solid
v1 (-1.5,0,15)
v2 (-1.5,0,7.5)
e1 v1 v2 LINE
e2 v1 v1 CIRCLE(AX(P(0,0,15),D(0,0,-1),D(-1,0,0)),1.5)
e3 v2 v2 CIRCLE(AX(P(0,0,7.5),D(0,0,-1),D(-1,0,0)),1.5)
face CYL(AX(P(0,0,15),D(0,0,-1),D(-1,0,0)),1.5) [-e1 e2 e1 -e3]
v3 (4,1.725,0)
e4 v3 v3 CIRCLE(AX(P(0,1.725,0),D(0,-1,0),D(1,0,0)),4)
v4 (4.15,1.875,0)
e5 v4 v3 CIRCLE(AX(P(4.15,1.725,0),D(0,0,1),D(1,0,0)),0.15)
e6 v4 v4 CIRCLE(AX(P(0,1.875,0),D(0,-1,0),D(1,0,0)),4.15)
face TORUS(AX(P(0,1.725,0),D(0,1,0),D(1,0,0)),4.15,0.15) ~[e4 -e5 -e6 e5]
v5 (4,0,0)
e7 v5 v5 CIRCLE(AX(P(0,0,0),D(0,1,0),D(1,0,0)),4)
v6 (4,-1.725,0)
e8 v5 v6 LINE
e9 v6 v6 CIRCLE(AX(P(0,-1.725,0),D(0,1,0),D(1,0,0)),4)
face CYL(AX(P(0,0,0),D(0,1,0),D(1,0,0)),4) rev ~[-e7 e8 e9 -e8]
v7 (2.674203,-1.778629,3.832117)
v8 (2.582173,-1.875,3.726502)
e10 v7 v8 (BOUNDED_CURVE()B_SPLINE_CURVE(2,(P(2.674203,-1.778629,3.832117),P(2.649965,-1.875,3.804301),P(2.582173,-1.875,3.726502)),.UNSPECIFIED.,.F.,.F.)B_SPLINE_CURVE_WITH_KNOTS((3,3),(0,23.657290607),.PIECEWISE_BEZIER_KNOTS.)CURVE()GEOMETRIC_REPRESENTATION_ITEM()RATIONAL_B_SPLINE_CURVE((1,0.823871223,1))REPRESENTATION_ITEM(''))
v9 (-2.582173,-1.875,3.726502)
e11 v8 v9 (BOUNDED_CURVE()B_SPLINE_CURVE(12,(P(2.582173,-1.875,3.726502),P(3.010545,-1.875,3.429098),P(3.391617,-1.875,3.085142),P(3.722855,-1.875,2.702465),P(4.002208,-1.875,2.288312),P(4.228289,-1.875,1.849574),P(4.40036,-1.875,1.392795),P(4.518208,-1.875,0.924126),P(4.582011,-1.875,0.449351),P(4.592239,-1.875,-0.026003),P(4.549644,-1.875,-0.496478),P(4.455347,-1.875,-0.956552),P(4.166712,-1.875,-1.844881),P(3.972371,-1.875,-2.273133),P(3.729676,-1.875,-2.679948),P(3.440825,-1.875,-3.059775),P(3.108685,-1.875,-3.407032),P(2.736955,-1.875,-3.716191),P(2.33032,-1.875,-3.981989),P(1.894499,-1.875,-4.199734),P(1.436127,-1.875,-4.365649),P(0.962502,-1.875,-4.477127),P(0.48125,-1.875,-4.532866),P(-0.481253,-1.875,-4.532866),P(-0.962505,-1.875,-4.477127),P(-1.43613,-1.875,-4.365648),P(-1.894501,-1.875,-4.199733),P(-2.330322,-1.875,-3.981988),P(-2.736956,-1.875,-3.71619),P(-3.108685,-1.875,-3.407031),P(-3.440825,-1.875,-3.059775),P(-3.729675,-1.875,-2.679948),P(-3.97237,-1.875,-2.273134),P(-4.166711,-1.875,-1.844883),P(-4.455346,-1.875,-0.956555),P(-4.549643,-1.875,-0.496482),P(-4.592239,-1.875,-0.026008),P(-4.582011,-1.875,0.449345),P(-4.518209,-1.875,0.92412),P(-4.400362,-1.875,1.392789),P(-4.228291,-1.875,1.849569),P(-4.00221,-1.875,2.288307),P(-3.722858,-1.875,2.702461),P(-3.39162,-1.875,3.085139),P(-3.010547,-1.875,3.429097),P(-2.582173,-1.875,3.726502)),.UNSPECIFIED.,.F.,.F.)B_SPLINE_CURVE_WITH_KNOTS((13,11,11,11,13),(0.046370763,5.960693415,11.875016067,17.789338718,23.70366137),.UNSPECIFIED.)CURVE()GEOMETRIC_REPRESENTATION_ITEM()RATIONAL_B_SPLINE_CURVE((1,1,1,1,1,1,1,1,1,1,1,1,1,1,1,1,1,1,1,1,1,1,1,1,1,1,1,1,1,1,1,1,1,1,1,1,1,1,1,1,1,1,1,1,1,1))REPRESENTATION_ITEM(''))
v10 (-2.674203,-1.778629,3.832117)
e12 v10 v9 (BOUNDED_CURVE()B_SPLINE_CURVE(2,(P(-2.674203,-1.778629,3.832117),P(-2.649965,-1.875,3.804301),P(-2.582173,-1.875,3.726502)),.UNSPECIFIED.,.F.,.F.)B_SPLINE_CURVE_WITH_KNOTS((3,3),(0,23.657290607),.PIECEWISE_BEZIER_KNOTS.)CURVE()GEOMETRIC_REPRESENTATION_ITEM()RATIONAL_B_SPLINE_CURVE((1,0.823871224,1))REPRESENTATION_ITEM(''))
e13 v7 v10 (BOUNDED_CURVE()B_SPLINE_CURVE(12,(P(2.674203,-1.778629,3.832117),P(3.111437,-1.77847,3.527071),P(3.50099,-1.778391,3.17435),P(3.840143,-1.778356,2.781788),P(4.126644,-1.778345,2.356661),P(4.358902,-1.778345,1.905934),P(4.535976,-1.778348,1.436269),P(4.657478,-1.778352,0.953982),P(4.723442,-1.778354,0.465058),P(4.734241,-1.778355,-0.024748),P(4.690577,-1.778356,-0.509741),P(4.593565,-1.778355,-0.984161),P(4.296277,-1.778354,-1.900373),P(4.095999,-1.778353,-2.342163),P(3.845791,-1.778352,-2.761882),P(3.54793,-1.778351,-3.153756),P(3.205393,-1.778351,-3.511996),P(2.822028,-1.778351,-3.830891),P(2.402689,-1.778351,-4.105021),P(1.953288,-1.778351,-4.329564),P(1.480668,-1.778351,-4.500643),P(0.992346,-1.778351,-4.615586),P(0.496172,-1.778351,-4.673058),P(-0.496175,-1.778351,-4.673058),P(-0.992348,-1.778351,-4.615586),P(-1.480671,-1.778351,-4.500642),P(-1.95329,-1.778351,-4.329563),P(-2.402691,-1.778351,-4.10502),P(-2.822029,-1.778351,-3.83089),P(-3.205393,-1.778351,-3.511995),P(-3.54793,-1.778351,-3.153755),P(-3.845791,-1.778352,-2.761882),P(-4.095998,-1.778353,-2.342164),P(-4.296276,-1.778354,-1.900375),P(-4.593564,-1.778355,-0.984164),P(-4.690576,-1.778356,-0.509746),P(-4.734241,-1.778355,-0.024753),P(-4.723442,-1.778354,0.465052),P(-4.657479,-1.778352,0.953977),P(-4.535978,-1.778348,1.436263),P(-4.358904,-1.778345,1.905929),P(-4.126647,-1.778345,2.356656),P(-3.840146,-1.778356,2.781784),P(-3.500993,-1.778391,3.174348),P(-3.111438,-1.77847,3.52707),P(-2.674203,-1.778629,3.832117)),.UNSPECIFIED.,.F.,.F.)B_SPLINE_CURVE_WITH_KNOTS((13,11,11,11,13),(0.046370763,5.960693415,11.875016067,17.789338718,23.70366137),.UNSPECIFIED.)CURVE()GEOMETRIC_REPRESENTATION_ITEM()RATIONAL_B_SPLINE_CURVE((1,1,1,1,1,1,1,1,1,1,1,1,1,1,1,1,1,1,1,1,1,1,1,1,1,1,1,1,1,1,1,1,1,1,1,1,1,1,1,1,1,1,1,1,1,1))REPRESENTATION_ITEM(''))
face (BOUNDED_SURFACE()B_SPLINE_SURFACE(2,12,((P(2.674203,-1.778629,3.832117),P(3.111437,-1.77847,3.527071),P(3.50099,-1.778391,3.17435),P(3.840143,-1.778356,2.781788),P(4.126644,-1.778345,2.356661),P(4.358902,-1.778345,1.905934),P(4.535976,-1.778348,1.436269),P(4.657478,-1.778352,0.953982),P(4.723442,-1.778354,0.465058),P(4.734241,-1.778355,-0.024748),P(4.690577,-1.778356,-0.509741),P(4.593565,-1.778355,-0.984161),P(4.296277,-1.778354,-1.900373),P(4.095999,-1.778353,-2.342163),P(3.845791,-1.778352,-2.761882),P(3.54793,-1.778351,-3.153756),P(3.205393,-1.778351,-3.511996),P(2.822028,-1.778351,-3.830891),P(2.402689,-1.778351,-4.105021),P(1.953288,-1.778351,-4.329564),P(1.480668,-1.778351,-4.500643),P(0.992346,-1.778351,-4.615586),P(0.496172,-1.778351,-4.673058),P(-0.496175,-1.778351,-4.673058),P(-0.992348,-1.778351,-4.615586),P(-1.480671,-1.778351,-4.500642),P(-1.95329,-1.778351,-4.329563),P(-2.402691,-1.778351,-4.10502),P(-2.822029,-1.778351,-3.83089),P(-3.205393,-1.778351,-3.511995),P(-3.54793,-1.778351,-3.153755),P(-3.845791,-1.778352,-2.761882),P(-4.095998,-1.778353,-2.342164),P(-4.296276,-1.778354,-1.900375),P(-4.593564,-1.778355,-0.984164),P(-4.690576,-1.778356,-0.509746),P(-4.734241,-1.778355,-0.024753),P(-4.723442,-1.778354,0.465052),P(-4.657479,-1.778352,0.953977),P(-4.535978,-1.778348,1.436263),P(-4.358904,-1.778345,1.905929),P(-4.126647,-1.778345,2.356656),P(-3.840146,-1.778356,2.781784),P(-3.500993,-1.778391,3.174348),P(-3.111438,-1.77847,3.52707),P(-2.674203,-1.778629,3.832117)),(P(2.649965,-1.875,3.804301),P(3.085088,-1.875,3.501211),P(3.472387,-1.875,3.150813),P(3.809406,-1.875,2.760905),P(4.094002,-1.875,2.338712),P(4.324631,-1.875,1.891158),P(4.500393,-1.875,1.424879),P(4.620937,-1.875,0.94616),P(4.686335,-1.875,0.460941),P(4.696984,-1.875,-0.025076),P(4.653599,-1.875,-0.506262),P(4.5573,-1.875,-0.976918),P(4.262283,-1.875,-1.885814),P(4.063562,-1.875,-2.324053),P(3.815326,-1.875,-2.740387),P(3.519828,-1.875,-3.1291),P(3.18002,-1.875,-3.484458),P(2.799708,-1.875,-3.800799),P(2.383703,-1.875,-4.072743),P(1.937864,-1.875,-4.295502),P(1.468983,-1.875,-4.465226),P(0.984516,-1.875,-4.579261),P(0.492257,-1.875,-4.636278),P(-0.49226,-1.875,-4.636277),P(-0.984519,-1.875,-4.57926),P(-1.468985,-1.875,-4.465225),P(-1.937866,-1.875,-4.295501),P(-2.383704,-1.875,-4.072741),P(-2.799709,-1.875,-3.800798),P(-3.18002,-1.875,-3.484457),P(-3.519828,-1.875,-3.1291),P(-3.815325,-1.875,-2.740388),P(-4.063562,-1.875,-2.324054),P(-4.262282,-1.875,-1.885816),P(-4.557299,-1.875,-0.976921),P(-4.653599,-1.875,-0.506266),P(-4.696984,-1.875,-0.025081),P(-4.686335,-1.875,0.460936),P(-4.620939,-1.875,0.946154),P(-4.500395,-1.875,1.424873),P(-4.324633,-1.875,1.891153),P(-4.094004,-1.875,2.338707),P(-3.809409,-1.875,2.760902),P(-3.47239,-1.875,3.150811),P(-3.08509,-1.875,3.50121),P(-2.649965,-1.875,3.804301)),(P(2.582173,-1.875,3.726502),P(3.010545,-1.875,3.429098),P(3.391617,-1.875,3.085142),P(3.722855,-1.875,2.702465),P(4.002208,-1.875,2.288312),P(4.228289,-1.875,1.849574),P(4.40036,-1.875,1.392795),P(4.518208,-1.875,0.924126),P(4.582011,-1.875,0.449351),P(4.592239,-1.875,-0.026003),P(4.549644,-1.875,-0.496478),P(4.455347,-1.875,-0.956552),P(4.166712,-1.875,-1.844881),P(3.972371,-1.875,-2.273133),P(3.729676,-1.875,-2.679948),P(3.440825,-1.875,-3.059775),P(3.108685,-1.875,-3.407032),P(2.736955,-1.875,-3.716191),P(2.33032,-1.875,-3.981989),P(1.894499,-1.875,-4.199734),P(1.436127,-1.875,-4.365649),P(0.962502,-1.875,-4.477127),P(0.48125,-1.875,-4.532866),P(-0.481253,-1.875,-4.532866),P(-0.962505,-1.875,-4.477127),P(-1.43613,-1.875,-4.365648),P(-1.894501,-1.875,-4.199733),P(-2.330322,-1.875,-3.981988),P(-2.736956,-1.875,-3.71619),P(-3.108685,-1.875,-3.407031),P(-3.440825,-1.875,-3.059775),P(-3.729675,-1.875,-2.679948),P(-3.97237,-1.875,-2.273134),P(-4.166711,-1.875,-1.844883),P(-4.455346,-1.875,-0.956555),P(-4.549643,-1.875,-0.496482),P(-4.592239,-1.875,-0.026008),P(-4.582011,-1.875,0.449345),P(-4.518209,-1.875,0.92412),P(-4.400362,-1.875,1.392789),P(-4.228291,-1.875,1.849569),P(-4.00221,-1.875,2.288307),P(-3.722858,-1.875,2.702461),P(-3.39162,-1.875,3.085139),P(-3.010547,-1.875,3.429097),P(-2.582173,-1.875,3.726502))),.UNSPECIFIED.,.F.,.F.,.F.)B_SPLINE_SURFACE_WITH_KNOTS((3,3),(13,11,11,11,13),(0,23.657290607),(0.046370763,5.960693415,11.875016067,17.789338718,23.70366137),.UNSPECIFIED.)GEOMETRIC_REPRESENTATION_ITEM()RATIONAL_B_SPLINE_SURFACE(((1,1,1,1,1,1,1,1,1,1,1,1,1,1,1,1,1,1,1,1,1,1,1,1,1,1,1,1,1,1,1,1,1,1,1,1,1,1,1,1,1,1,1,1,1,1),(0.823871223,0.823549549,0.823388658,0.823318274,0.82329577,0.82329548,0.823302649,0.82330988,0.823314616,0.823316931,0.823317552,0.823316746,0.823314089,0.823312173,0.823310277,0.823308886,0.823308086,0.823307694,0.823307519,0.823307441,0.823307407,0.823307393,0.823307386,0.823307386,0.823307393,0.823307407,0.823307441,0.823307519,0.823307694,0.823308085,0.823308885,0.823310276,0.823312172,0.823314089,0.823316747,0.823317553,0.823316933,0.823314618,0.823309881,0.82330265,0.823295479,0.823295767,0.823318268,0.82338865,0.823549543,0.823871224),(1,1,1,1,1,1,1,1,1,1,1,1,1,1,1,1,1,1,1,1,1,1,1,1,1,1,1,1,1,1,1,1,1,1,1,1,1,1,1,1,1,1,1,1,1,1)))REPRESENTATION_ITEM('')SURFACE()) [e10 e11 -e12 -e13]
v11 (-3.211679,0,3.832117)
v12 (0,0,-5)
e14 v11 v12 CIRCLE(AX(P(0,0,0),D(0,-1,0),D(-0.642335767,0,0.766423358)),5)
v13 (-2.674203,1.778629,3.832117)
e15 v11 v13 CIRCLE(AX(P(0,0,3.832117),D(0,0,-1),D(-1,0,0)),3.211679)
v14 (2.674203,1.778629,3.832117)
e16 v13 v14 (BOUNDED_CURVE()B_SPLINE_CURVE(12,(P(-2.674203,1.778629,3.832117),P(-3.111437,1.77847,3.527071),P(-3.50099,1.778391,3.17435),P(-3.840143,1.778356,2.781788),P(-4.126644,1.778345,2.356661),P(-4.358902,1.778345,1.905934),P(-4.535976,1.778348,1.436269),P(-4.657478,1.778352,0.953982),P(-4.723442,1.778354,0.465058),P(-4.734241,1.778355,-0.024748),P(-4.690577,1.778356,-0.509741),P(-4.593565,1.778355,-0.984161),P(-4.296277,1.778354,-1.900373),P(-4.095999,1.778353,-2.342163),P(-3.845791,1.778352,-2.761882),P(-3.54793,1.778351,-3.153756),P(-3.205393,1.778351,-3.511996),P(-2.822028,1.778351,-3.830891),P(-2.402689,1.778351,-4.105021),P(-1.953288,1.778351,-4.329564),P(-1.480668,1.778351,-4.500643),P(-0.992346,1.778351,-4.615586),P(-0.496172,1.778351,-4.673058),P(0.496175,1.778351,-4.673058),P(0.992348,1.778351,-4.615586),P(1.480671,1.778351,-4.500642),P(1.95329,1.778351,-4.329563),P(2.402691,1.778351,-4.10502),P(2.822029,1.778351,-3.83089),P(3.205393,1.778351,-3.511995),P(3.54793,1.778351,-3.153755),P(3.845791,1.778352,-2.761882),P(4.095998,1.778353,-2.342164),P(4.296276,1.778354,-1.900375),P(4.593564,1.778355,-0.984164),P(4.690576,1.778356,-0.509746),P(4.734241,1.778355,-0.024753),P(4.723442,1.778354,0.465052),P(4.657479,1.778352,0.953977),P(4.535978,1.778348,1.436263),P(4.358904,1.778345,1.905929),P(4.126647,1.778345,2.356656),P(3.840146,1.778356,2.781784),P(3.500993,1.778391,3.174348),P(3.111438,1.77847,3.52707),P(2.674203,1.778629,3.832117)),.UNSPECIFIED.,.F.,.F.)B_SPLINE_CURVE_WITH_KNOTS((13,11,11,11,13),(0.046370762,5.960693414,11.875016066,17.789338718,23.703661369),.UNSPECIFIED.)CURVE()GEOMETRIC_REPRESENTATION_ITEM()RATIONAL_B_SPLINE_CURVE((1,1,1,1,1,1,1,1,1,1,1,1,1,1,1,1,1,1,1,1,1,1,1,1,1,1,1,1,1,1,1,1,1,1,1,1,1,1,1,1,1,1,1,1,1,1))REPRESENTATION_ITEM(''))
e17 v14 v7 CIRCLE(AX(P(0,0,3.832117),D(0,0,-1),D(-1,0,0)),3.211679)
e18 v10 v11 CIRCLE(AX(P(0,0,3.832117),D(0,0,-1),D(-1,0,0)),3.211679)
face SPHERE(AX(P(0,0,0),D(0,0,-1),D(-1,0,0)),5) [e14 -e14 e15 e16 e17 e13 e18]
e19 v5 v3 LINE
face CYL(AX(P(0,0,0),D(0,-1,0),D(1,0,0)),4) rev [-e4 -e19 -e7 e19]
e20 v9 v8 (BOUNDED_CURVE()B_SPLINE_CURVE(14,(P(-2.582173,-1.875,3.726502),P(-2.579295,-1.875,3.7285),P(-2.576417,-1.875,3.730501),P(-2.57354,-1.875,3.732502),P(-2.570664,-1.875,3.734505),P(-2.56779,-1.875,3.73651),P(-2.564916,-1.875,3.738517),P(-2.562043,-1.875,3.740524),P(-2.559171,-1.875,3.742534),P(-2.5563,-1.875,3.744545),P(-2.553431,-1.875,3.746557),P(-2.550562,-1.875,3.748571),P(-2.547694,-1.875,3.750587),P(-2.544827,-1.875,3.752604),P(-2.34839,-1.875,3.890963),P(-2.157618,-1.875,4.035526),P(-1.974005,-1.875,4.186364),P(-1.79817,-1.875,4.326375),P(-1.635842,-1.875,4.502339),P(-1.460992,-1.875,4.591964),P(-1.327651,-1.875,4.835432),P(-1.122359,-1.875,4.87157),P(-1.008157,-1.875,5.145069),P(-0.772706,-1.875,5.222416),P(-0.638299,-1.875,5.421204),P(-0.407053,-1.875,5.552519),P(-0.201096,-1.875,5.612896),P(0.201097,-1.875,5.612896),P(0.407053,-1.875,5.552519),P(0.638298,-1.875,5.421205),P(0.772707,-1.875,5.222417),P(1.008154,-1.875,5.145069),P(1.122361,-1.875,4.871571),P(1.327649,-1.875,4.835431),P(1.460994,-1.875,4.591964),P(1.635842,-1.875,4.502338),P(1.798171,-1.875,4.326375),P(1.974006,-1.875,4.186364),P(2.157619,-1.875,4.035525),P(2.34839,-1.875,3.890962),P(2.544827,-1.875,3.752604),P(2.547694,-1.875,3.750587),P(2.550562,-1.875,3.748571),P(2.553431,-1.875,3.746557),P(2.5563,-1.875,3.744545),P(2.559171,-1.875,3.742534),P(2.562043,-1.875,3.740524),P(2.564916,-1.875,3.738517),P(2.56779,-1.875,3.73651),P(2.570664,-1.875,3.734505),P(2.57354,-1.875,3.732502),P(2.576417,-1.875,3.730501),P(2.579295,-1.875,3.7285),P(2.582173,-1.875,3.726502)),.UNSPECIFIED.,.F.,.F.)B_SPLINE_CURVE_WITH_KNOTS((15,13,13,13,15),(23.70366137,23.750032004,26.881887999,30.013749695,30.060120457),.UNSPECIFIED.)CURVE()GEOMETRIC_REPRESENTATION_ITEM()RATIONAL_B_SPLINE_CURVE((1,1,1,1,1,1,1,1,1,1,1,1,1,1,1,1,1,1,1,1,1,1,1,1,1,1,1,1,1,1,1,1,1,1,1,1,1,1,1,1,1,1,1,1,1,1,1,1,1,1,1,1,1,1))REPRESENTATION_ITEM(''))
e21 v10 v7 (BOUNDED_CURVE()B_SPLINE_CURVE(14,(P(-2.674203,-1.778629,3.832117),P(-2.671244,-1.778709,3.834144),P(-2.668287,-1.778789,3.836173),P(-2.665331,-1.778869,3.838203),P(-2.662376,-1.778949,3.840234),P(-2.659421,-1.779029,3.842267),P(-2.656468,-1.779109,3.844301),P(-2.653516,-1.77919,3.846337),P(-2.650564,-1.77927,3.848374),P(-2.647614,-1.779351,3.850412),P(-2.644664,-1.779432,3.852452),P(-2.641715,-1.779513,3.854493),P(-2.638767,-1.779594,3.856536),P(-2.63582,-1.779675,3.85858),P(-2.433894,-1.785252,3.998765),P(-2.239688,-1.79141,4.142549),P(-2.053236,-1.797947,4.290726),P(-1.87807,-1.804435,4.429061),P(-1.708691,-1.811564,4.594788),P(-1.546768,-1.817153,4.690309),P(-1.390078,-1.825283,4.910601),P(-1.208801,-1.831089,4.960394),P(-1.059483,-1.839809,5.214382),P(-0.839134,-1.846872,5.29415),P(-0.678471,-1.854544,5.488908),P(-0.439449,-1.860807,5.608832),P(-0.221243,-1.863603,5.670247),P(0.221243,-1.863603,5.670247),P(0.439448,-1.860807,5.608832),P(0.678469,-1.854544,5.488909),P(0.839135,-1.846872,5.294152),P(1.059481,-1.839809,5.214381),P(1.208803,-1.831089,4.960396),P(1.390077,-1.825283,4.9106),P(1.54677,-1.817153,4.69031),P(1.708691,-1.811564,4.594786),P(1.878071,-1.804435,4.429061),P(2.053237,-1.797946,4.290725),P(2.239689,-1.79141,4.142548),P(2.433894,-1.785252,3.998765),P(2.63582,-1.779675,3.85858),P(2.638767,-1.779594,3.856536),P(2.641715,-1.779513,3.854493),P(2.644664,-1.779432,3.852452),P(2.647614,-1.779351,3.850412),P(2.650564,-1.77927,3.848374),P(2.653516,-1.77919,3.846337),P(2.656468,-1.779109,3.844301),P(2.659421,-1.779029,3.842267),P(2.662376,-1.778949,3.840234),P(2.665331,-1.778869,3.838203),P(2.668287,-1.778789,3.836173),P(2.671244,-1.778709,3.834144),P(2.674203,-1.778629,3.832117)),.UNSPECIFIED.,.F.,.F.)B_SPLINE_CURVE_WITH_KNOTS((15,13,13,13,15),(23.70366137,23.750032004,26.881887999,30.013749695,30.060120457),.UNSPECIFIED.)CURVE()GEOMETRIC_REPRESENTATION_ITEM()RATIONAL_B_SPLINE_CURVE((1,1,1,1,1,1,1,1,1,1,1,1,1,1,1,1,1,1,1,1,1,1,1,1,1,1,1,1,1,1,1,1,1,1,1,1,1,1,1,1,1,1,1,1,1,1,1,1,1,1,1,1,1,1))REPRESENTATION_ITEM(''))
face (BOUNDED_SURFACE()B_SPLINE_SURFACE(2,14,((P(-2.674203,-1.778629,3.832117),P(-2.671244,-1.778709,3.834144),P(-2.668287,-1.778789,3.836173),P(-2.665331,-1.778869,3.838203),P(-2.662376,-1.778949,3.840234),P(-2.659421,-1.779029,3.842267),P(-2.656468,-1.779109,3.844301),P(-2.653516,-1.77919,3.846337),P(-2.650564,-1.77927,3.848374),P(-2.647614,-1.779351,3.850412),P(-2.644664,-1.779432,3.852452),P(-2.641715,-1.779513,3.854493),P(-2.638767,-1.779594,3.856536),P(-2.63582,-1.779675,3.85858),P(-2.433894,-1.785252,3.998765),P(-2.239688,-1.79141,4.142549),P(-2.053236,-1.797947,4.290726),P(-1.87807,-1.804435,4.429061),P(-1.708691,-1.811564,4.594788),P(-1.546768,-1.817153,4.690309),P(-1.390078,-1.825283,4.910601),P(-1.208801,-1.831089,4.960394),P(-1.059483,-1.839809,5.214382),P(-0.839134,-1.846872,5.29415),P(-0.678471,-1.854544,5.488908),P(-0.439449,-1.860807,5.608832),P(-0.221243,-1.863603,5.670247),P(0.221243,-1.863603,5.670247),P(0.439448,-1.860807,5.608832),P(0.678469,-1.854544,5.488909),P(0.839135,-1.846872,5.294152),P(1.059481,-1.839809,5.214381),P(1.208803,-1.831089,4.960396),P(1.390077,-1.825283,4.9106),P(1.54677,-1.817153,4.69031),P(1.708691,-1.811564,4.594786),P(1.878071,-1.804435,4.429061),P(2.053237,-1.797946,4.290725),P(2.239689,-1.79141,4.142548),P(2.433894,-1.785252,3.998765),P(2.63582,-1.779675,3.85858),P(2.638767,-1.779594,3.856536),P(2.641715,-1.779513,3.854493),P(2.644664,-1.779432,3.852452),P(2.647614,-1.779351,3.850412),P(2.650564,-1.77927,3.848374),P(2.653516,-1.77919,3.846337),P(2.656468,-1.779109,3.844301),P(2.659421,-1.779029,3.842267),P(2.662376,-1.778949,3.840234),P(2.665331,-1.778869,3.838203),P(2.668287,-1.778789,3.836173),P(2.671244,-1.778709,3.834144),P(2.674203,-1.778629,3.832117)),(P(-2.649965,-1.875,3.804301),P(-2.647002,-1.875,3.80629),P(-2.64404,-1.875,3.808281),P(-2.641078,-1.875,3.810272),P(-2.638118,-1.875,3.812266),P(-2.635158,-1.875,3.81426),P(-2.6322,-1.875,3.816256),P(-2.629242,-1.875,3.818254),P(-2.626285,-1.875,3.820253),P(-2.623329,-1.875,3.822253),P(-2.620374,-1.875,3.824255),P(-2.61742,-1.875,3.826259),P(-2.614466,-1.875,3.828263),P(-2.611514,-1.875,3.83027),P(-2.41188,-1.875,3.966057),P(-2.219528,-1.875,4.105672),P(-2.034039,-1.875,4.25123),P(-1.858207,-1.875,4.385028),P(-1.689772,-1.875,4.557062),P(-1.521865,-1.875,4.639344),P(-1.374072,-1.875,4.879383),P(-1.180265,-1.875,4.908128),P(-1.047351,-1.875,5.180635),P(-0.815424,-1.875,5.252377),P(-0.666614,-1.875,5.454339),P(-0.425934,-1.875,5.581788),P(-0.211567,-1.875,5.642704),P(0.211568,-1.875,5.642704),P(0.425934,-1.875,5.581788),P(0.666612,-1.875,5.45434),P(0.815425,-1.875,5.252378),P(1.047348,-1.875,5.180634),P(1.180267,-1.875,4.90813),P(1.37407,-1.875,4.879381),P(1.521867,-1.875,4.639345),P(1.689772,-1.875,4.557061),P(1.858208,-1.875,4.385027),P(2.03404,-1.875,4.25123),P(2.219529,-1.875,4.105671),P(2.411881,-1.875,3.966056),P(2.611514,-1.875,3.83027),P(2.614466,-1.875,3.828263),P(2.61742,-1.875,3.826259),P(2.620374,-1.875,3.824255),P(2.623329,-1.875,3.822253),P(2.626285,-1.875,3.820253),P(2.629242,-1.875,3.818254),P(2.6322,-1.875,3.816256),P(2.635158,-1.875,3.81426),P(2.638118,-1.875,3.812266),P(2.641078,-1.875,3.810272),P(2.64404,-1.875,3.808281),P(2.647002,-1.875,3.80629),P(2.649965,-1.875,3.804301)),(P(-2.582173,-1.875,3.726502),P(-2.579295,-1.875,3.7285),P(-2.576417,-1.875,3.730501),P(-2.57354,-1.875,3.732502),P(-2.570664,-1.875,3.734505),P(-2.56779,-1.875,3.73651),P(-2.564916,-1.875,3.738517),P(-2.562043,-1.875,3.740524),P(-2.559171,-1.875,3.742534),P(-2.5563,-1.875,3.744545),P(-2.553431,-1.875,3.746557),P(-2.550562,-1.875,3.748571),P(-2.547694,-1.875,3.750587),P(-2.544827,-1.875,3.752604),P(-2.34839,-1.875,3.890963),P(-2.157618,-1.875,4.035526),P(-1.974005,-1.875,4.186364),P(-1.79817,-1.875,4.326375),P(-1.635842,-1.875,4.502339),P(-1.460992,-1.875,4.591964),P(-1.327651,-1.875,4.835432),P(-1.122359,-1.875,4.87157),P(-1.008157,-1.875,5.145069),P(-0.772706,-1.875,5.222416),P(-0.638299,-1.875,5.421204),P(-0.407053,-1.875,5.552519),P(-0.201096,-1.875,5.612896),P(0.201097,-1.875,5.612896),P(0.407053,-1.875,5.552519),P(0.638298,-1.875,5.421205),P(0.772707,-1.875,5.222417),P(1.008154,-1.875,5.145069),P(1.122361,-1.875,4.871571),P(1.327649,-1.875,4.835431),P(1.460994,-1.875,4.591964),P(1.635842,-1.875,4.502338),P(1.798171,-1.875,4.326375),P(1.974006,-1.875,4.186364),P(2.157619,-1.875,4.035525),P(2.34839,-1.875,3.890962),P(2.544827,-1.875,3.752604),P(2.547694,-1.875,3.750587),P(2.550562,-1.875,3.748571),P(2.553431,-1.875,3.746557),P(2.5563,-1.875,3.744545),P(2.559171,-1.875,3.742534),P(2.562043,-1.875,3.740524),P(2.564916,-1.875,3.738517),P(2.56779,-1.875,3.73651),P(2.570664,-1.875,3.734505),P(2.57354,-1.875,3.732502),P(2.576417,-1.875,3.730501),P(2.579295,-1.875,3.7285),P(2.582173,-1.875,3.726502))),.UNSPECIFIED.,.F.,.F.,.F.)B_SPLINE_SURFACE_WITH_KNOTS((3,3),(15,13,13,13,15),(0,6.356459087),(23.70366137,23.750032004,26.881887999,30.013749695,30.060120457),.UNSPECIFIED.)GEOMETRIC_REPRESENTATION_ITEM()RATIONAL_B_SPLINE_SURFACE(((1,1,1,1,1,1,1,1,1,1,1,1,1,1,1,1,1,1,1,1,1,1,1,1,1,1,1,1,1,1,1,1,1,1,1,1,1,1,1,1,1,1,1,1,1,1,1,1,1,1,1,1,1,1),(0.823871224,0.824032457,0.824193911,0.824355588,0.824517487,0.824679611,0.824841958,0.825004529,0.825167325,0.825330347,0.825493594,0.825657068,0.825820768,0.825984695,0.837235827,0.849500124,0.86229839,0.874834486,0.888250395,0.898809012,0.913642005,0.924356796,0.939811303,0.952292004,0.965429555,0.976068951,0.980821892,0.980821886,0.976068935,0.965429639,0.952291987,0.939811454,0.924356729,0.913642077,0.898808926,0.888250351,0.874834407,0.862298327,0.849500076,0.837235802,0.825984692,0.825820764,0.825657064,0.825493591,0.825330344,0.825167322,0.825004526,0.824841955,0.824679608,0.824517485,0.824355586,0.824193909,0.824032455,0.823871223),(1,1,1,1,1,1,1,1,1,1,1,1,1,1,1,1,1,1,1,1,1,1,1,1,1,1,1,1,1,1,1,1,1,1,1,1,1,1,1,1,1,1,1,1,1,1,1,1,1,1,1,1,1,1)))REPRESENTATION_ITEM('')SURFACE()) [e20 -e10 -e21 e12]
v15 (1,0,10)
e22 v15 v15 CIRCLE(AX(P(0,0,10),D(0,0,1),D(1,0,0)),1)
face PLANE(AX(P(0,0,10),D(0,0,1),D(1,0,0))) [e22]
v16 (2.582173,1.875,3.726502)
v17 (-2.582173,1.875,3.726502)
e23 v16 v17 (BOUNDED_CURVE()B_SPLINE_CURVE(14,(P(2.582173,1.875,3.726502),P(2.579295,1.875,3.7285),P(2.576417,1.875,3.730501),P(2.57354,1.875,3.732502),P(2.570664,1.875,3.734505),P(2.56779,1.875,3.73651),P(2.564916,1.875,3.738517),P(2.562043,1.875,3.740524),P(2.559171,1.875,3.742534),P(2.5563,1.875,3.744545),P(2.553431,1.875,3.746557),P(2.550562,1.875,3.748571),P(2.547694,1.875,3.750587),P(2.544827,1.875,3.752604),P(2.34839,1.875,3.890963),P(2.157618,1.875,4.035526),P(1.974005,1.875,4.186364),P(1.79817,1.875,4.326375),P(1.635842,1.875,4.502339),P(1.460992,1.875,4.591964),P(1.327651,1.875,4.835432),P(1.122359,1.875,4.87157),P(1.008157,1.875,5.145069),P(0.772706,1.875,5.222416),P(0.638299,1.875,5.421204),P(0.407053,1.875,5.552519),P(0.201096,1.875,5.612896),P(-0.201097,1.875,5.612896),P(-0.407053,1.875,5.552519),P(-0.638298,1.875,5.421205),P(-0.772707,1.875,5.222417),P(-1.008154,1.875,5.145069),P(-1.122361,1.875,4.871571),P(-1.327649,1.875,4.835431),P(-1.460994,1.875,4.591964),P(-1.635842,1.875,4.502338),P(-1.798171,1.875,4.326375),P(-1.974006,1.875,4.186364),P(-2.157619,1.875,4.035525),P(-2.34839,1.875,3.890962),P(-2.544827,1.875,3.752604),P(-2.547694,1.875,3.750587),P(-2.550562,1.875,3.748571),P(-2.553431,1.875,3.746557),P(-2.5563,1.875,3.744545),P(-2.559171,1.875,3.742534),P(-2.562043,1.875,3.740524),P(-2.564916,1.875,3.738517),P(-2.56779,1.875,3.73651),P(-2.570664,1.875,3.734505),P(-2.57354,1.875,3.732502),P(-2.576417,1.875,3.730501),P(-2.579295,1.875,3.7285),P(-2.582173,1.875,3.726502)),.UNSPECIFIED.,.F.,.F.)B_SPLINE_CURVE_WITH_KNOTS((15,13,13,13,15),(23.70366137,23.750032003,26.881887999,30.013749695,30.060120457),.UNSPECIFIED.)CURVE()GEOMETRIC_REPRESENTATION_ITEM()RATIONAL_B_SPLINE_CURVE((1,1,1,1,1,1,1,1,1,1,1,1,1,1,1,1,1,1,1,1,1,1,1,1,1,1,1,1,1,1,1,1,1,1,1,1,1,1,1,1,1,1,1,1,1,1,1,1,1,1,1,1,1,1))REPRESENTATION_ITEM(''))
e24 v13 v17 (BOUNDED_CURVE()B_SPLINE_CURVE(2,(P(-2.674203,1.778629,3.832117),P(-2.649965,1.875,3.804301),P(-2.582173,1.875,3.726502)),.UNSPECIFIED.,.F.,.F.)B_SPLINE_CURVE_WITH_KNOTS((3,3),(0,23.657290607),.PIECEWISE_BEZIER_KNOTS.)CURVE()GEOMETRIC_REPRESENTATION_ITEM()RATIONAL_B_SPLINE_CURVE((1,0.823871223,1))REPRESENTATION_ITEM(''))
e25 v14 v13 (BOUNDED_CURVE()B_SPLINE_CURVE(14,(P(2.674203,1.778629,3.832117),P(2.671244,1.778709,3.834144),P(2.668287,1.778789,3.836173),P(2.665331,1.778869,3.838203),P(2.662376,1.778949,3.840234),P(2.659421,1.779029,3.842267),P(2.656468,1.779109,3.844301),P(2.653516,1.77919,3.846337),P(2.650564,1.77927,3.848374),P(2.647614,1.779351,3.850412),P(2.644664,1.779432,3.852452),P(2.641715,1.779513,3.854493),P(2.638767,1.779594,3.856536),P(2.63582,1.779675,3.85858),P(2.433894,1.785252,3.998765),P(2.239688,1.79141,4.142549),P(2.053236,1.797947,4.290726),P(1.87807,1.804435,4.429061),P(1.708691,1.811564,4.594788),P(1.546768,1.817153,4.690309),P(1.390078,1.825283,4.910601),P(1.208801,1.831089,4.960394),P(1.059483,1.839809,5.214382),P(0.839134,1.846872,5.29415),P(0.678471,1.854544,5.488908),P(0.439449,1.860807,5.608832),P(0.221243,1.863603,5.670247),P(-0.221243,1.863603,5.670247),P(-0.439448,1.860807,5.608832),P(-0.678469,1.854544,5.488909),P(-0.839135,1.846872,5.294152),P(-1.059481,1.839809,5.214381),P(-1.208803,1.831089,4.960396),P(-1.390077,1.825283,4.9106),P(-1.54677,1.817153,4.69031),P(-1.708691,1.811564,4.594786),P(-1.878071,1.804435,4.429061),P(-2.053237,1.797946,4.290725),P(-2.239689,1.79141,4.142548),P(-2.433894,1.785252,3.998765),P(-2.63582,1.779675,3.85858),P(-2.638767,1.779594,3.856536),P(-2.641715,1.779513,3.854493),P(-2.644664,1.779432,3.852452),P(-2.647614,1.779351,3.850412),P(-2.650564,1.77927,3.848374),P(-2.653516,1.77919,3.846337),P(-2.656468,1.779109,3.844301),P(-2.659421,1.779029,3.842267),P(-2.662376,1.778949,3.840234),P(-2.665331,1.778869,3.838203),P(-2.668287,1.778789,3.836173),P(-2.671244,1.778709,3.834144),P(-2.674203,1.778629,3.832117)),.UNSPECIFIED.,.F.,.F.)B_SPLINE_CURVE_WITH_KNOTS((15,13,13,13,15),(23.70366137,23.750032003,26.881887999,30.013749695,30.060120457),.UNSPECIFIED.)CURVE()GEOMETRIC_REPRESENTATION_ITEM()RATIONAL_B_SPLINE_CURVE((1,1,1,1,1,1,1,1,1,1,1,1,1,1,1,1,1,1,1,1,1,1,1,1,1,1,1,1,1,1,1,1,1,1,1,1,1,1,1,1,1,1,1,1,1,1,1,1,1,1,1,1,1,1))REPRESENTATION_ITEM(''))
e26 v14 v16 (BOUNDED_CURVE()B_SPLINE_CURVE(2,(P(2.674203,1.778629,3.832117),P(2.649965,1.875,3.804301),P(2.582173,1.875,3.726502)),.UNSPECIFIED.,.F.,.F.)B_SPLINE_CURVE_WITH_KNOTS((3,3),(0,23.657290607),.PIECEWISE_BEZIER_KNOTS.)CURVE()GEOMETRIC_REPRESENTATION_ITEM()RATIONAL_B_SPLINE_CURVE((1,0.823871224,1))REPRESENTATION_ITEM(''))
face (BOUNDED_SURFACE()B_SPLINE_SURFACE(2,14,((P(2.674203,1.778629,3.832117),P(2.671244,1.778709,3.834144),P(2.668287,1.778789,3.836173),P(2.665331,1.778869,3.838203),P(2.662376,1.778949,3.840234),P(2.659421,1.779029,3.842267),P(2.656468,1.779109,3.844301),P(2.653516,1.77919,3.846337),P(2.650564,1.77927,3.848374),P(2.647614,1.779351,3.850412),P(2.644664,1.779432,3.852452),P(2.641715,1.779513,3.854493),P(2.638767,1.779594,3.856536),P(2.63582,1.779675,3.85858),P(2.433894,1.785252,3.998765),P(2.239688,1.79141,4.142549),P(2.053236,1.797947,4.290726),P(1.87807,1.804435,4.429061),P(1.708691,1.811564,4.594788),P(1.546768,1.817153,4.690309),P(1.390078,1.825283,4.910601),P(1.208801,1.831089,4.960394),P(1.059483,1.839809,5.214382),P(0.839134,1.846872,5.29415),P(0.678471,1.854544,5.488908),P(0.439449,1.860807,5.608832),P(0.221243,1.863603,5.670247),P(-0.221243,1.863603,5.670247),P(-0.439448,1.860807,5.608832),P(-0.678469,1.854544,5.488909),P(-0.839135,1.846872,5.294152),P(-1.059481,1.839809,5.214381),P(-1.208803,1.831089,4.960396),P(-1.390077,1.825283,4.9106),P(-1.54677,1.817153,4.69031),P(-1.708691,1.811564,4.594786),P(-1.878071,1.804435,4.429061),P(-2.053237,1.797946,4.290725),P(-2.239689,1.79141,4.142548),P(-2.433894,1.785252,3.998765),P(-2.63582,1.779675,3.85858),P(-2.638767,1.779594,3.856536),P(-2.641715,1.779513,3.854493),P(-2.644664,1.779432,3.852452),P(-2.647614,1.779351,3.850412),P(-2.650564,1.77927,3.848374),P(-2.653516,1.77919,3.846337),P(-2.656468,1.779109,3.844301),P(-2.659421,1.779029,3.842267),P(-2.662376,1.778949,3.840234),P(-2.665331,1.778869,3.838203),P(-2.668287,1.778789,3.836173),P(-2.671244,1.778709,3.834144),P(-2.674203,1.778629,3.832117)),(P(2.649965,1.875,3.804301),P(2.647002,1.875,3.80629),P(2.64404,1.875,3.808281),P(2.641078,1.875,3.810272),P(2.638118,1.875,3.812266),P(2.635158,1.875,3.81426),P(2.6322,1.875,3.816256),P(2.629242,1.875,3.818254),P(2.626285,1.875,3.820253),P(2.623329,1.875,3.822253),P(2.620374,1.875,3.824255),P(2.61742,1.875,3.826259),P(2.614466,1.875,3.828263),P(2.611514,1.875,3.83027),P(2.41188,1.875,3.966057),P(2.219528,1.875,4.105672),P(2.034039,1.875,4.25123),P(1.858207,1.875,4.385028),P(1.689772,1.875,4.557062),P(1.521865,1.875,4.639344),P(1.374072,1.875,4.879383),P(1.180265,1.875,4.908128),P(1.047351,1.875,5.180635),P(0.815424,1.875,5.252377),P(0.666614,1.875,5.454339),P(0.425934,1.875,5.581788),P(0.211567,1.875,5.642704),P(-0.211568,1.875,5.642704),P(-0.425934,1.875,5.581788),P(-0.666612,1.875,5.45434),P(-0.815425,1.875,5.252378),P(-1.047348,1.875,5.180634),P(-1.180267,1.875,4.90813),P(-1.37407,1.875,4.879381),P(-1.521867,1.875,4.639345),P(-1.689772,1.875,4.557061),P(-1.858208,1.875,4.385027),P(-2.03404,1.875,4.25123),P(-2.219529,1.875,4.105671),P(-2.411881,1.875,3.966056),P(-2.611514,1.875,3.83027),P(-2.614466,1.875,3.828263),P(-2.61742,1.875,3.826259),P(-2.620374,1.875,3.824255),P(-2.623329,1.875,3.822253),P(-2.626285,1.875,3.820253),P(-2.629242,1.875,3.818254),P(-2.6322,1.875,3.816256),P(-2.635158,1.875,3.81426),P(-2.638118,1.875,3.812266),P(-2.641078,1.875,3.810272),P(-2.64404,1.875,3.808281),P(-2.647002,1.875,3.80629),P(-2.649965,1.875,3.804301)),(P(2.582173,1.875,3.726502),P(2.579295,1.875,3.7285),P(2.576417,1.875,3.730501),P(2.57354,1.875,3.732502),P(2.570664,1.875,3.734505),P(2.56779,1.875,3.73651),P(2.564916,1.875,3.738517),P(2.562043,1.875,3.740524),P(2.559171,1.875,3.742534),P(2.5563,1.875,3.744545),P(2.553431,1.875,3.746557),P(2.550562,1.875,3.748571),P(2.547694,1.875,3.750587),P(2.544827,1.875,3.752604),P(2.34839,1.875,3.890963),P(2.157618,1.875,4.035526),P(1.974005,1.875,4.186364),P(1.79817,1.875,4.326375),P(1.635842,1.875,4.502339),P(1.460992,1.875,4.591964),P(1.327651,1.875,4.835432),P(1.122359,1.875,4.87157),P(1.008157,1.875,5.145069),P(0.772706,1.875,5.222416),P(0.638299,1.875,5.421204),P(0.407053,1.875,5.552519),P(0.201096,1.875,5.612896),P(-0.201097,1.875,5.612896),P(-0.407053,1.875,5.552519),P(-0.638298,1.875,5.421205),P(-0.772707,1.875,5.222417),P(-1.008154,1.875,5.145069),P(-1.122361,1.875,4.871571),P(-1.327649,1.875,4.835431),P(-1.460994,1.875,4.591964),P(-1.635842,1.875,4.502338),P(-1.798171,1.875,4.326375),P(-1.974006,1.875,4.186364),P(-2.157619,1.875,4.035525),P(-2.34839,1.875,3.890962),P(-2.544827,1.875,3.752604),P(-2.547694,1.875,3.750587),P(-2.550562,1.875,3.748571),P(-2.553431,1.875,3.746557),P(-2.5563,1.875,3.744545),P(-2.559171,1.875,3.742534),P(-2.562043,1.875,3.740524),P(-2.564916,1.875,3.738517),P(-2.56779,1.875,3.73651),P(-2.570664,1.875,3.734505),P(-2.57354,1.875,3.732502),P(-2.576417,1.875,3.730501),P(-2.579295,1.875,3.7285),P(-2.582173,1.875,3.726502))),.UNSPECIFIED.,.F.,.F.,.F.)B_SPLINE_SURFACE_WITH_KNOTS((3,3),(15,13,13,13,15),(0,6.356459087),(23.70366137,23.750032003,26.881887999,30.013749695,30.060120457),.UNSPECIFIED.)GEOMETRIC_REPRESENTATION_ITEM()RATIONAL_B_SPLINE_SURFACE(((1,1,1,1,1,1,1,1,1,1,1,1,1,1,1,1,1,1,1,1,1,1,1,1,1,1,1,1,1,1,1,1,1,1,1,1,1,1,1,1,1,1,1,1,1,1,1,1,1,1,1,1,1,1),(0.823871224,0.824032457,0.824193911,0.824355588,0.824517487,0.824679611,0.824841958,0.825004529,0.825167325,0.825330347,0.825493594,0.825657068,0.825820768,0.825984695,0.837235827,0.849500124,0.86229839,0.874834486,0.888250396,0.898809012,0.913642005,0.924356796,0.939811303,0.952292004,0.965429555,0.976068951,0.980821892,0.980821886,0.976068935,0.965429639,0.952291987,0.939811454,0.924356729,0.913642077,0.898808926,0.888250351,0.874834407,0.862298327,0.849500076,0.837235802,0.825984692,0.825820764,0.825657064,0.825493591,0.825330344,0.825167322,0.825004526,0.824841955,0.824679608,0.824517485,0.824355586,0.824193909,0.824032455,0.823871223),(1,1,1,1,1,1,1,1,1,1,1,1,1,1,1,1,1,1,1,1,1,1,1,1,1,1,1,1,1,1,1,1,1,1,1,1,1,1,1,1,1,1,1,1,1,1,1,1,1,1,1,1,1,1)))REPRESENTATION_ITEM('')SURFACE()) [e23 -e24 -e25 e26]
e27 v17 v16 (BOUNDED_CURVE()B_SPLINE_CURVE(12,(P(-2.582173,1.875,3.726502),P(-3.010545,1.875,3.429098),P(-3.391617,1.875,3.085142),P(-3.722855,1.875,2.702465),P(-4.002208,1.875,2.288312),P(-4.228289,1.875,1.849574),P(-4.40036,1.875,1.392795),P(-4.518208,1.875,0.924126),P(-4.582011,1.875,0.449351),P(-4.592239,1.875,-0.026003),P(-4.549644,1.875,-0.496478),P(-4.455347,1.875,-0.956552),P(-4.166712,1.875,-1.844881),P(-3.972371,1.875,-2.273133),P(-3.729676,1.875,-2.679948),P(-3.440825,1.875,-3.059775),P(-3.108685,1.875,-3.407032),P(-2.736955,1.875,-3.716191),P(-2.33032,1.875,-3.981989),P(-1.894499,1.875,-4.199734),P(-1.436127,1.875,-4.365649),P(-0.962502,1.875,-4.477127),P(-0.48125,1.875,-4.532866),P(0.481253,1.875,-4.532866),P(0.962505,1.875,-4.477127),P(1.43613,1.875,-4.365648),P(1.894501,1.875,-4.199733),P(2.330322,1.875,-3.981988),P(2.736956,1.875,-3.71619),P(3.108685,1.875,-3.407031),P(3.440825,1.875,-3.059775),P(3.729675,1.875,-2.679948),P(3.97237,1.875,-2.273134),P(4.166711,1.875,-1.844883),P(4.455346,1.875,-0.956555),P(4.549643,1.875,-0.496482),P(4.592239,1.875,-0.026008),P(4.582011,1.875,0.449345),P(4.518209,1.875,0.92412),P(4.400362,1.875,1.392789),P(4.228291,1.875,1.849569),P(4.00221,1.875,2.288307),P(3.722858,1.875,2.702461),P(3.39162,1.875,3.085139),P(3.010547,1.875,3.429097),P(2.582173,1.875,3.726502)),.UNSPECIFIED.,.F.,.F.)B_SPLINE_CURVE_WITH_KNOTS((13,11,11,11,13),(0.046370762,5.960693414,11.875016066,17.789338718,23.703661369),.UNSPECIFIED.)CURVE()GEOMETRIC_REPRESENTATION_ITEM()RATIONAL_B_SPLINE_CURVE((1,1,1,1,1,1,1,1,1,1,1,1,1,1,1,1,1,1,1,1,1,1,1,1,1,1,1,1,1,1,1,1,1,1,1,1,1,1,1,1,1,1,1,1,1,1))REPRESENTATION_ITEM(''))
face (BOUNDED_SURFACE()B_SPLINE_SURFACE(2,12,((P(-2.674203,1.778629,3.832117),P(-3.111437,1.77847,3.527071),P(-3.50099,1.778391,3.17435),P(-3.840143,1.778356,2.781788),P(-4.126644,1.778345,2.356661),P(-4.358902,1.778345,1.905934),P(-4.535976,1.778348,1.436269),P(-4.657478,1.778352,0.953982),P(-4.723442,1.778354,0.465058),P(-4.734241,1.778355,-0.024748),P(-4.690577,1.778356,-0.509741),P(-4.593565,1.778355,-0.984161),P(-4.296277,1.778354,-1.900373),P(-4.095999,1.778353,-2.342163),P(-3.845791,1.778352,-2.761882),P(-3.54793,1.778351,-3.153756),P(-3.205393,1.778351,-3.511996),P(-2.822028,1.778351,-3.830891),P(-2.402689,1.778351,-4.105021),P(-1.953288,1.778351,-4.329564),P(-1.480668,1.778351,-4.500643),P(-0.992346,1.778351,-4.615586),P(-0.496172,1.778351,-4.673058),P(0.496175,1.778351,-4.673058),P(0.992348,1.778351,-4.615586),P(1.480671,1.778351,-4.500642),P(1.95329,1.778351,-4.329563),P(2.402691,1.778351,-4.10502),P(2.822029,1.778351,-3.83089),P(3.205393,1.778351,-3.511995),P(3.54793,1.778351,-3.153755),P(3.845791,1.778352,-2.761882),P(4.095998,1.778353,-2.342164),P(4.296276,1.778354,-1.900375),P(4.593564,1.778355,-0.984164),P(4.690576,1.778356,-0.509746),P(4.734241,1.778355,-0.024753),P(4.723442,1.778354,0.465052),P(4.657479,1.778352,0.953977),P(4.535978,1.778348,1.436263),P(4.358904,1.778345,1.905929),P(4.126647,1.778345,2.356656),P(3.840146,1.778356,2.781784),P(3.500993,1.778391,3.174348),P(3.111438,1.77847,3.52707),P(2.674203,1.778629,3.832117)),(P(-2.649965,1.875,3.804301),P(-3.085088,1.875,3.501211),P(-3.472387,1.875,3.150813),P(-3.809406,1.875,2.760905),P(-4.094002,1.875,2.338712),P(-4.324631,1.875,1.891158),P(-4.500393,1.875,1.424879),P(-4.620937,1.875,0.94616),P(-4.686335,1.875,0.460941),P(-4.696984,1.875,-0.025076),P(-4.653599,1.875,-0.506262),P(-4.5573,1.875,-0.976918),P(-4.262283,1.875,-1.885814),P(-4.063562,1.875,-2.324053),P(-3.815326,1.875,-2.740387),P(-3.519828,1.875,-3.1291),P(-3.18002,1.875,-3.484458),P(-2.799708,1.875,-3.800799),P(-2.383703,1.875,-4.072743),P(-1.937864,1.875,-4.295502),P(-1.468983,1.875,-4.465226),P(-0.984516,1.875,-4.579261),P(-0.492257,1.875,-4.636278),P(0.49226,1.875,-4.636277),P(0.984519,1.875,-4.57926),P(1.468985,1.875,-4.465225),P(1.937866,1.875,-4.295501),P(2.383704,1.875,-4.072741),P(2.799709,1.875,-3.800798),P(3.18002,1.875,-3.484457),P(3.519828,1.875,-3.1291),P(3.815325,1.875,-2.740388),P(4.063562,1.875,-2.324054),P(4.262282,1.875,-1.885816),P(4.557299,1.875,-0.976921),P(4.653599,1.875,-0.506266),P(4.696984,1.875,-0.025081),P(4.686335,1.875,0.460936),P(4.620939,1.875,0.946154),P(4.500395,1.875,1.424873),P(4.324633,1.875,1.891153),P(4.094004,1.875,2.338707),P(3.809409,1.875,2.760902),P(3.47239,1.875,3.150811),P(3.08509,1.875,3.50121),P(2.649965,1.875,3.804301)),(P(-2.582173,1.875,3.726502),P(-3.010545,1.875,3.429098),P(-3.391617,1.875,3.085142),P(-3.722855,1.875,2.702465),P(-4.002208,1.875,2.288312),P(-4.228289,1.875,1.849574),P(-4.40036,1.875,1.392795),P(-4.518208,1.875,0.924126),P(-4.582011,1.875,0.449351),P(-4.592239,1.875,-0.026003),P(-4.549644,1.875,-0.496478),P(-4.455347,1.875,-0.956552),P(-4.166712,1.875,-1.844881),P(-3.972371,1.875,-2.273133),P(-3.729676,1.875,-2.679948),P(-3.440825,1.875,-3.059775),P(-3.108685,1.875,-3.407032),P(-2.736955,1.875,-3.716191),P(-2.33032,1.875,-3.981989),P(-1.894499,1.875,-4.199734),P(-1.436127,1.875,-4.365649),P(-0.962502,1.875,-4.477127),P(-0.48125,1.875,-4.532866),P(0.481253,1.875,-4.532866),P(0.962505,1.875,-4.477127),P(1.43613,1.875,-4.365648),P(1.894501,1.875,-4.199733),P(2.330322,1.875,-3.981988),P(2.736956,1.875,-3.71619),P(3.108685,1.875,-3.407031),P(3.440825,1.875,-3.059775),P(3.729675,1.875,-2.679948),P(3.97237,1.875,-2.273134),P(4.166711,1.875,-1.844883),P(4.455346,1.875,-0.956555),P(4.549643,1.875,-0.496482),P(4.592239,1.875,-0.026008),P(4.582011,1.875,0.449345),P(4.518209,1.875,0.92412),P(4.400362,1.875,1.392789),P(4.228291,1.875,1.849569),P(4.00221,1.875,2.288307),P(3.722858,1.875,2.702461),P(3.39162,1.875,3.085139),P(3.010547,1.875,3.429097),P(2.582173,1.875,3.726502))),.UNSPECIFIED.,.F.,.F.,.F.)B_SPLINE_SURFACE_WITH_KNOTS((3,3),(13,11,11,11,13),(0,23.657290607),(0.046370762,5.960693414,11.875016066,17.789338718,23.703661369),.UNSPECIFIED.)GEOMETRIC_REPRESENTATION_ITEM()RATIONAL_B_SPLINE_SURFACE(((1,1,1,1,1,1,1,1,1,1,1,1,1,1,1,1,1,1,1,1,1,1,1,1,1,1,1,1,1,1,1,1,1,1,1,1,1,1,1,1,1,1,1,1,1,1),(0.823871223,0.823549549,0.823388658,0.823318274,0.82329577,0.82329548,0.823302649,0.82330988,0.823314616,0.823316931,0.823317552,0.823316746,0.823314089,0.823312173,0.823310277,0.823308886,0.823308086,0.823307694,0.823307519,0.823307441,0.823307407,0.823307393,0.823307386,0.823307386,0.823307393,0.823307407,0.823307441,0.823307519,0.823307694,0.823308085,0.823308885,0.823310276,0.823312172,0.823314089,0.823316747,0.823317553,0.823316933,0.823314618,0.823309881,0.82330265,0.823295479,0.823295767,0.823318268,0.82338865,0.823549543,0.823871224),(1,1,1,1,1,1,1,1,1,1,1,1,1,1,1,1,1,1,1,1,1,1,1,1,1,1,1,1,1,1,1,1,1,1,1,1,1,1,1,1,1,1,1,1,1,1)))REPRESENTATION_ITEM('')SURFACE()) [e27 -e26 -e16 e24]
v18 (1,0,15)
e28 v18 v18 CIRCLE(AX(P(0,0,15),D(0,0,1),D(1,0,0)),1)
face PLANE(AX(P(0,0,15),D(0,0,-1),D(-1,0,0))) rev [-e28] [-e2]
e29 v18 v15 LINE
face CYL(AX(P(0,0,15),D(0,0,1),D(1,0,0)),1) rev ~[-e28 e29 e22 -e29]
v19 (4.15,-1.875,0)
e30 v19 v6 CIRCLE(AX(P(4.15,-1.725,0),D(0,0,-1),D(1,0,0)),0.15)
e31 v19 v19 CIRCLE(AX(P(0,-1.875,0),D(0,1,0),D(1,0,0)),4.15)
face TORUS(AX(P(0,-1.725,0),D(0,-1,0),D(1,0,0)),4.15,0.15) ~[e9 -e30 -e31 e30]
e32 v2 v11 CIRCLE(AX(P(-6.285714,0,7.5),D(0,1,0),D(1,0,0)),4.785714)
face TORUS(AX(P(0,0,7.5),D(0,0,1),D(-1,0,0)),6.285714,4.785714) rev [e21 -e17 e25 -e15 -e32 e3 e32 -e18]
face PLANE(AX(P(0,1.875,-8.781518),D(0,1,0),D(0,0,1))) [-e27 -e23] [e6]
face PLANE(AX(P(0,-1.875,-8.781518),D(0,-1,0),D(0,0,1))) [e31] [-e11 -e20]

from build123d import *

# Parameters (mm, degrees)
CUT_EXTRUDE1_DEPTH      = 6
CUT_EXTRUDE1_DEPTH_BACK = 6
SKETCH5_R               = 4
CUT_EXTRUDE2_DEPTH      = 2.8750001
CUT_EXTRUDE2_DEPTH_BACK = 2.8750001
FILLET1_R               = 0.15
SKETCH6_R               = 1
CUT_EXTRUDE3_DEPTH      = 5


with BuildPart() as part:
    # Sketch2 → Revolve1 (revolve)
    with BuildSketch(Plane(origin=(0, 0, 0), x_dir=(1, 0, 0), z_dir=(0, 1, 0))):
        with BuildLine():
            Line((-1.5, -15), (-1.5, -7.5))
            ThreePointArc((-1.5, -7.5), (-1.948980687, -5.476190987), (-3.211678832, -3.832116788))
            ThreePointArc((-3.211678832, -3.832116788), (-4.698967117, 1.708715315), (0, 5))
            Line((0, 5), (0, -15))
            Line((0, -15), (-1.5, -15))
        make_face()
    revolve(axis=Axis((0, 0, 0), (0, 0, -1)))

    # Sketch4 → Cut-Extrude1 (cut, two sides)
    with BuildSketch(Plane(origin=(0, 0, 0), x_dir=(0, 0, -1), z_dir=(1, 0, 0))) as cut_extrude1_sk:
        with BuildLine():
            Line((8.781517746, 1.875), (-9.267406652, 1.875))
            ThreePointArc((-9.267406652, 1.875), (-10.77093565, 2.106415246), (-12.135288834, 2.779239779))
            Line((-12.135288834, 2.779239779), (-18.987551921, 7.577246046))
            Line((-18.987551921, 7.577246046), (8.781517746, 7.577246046))
            Line((8.781517746, 7.577246046), (8.781517746, 1.875))
        make_face()
        with BuildLine():
            Line((8.781517746, -7.577246046), (8.781517746, -1.875))
            Line((8.781517746, -1.875), (-9.267406652, -1.875))
            ThreePointArc((-9.267406652, -1.875), (-10.77093565, -2.106415246), (-12.135288834, -2.779239779))
            Line((-12.135288834, -2.779239779), (-18.987551921, -7.577246046))
            Line((-18.987551921, -7.577246046), (8.781517746, -7.577246046))
        make_face()
    extrude(amount=CUT_EXTRUDE1_DEPTH, mode=Mode.SUBTRACT)
    extrude(cut_extrude1_sk.sketch, amount=-CUT_EXTRUDE1_DEPTH_BACK, mode=Mode.SUBTRACT)

    # Sketch5 → Cut-Extrude2 (cut, two sides)
    with BuildSketch(Plane(origin=(0, 0, 0), x_dir=(1, 0, 0), z_dir=(0, 1, 0))) as cut_extrude2_sk:
        Circle(SKETCH5_R)
    extrude(amount=CUT_EXTRUDE2_DEPTH, mode=Mode.SUBTRACT)
    extrude(cut_extrude2_sk.sketch, amount=-CUT_EXTRUDE2_DEPTH_BACK, mode=Mode.SUBTRACT)

    # Fillet1
    fillet1_edges = [part.edges().sort_by_distance(p)[0] for p in [
        (0, -1.875, -4.635124054),
        (0, 1.875, -4.635124054),
        (-1e-09, 1.875, 5.642942998),
        (1e-09, -1.875, 5.642942998),
        (-4, -1.875, 0),
        (-4, 1.875, 0),
    ]]
    fillet(fillet1_edges, radius=FILLET1_R)

    # Sketch6 → Cut-Extrude3 (cut)
    with BuildSketch(Plane.XY.offset(15)):
        Circle(SKETCH6_R)
    extrude(amount=-CUT_EXTRUDE3_DEPTH, mode=Mode.SUBTRACT)


solid = part.part
